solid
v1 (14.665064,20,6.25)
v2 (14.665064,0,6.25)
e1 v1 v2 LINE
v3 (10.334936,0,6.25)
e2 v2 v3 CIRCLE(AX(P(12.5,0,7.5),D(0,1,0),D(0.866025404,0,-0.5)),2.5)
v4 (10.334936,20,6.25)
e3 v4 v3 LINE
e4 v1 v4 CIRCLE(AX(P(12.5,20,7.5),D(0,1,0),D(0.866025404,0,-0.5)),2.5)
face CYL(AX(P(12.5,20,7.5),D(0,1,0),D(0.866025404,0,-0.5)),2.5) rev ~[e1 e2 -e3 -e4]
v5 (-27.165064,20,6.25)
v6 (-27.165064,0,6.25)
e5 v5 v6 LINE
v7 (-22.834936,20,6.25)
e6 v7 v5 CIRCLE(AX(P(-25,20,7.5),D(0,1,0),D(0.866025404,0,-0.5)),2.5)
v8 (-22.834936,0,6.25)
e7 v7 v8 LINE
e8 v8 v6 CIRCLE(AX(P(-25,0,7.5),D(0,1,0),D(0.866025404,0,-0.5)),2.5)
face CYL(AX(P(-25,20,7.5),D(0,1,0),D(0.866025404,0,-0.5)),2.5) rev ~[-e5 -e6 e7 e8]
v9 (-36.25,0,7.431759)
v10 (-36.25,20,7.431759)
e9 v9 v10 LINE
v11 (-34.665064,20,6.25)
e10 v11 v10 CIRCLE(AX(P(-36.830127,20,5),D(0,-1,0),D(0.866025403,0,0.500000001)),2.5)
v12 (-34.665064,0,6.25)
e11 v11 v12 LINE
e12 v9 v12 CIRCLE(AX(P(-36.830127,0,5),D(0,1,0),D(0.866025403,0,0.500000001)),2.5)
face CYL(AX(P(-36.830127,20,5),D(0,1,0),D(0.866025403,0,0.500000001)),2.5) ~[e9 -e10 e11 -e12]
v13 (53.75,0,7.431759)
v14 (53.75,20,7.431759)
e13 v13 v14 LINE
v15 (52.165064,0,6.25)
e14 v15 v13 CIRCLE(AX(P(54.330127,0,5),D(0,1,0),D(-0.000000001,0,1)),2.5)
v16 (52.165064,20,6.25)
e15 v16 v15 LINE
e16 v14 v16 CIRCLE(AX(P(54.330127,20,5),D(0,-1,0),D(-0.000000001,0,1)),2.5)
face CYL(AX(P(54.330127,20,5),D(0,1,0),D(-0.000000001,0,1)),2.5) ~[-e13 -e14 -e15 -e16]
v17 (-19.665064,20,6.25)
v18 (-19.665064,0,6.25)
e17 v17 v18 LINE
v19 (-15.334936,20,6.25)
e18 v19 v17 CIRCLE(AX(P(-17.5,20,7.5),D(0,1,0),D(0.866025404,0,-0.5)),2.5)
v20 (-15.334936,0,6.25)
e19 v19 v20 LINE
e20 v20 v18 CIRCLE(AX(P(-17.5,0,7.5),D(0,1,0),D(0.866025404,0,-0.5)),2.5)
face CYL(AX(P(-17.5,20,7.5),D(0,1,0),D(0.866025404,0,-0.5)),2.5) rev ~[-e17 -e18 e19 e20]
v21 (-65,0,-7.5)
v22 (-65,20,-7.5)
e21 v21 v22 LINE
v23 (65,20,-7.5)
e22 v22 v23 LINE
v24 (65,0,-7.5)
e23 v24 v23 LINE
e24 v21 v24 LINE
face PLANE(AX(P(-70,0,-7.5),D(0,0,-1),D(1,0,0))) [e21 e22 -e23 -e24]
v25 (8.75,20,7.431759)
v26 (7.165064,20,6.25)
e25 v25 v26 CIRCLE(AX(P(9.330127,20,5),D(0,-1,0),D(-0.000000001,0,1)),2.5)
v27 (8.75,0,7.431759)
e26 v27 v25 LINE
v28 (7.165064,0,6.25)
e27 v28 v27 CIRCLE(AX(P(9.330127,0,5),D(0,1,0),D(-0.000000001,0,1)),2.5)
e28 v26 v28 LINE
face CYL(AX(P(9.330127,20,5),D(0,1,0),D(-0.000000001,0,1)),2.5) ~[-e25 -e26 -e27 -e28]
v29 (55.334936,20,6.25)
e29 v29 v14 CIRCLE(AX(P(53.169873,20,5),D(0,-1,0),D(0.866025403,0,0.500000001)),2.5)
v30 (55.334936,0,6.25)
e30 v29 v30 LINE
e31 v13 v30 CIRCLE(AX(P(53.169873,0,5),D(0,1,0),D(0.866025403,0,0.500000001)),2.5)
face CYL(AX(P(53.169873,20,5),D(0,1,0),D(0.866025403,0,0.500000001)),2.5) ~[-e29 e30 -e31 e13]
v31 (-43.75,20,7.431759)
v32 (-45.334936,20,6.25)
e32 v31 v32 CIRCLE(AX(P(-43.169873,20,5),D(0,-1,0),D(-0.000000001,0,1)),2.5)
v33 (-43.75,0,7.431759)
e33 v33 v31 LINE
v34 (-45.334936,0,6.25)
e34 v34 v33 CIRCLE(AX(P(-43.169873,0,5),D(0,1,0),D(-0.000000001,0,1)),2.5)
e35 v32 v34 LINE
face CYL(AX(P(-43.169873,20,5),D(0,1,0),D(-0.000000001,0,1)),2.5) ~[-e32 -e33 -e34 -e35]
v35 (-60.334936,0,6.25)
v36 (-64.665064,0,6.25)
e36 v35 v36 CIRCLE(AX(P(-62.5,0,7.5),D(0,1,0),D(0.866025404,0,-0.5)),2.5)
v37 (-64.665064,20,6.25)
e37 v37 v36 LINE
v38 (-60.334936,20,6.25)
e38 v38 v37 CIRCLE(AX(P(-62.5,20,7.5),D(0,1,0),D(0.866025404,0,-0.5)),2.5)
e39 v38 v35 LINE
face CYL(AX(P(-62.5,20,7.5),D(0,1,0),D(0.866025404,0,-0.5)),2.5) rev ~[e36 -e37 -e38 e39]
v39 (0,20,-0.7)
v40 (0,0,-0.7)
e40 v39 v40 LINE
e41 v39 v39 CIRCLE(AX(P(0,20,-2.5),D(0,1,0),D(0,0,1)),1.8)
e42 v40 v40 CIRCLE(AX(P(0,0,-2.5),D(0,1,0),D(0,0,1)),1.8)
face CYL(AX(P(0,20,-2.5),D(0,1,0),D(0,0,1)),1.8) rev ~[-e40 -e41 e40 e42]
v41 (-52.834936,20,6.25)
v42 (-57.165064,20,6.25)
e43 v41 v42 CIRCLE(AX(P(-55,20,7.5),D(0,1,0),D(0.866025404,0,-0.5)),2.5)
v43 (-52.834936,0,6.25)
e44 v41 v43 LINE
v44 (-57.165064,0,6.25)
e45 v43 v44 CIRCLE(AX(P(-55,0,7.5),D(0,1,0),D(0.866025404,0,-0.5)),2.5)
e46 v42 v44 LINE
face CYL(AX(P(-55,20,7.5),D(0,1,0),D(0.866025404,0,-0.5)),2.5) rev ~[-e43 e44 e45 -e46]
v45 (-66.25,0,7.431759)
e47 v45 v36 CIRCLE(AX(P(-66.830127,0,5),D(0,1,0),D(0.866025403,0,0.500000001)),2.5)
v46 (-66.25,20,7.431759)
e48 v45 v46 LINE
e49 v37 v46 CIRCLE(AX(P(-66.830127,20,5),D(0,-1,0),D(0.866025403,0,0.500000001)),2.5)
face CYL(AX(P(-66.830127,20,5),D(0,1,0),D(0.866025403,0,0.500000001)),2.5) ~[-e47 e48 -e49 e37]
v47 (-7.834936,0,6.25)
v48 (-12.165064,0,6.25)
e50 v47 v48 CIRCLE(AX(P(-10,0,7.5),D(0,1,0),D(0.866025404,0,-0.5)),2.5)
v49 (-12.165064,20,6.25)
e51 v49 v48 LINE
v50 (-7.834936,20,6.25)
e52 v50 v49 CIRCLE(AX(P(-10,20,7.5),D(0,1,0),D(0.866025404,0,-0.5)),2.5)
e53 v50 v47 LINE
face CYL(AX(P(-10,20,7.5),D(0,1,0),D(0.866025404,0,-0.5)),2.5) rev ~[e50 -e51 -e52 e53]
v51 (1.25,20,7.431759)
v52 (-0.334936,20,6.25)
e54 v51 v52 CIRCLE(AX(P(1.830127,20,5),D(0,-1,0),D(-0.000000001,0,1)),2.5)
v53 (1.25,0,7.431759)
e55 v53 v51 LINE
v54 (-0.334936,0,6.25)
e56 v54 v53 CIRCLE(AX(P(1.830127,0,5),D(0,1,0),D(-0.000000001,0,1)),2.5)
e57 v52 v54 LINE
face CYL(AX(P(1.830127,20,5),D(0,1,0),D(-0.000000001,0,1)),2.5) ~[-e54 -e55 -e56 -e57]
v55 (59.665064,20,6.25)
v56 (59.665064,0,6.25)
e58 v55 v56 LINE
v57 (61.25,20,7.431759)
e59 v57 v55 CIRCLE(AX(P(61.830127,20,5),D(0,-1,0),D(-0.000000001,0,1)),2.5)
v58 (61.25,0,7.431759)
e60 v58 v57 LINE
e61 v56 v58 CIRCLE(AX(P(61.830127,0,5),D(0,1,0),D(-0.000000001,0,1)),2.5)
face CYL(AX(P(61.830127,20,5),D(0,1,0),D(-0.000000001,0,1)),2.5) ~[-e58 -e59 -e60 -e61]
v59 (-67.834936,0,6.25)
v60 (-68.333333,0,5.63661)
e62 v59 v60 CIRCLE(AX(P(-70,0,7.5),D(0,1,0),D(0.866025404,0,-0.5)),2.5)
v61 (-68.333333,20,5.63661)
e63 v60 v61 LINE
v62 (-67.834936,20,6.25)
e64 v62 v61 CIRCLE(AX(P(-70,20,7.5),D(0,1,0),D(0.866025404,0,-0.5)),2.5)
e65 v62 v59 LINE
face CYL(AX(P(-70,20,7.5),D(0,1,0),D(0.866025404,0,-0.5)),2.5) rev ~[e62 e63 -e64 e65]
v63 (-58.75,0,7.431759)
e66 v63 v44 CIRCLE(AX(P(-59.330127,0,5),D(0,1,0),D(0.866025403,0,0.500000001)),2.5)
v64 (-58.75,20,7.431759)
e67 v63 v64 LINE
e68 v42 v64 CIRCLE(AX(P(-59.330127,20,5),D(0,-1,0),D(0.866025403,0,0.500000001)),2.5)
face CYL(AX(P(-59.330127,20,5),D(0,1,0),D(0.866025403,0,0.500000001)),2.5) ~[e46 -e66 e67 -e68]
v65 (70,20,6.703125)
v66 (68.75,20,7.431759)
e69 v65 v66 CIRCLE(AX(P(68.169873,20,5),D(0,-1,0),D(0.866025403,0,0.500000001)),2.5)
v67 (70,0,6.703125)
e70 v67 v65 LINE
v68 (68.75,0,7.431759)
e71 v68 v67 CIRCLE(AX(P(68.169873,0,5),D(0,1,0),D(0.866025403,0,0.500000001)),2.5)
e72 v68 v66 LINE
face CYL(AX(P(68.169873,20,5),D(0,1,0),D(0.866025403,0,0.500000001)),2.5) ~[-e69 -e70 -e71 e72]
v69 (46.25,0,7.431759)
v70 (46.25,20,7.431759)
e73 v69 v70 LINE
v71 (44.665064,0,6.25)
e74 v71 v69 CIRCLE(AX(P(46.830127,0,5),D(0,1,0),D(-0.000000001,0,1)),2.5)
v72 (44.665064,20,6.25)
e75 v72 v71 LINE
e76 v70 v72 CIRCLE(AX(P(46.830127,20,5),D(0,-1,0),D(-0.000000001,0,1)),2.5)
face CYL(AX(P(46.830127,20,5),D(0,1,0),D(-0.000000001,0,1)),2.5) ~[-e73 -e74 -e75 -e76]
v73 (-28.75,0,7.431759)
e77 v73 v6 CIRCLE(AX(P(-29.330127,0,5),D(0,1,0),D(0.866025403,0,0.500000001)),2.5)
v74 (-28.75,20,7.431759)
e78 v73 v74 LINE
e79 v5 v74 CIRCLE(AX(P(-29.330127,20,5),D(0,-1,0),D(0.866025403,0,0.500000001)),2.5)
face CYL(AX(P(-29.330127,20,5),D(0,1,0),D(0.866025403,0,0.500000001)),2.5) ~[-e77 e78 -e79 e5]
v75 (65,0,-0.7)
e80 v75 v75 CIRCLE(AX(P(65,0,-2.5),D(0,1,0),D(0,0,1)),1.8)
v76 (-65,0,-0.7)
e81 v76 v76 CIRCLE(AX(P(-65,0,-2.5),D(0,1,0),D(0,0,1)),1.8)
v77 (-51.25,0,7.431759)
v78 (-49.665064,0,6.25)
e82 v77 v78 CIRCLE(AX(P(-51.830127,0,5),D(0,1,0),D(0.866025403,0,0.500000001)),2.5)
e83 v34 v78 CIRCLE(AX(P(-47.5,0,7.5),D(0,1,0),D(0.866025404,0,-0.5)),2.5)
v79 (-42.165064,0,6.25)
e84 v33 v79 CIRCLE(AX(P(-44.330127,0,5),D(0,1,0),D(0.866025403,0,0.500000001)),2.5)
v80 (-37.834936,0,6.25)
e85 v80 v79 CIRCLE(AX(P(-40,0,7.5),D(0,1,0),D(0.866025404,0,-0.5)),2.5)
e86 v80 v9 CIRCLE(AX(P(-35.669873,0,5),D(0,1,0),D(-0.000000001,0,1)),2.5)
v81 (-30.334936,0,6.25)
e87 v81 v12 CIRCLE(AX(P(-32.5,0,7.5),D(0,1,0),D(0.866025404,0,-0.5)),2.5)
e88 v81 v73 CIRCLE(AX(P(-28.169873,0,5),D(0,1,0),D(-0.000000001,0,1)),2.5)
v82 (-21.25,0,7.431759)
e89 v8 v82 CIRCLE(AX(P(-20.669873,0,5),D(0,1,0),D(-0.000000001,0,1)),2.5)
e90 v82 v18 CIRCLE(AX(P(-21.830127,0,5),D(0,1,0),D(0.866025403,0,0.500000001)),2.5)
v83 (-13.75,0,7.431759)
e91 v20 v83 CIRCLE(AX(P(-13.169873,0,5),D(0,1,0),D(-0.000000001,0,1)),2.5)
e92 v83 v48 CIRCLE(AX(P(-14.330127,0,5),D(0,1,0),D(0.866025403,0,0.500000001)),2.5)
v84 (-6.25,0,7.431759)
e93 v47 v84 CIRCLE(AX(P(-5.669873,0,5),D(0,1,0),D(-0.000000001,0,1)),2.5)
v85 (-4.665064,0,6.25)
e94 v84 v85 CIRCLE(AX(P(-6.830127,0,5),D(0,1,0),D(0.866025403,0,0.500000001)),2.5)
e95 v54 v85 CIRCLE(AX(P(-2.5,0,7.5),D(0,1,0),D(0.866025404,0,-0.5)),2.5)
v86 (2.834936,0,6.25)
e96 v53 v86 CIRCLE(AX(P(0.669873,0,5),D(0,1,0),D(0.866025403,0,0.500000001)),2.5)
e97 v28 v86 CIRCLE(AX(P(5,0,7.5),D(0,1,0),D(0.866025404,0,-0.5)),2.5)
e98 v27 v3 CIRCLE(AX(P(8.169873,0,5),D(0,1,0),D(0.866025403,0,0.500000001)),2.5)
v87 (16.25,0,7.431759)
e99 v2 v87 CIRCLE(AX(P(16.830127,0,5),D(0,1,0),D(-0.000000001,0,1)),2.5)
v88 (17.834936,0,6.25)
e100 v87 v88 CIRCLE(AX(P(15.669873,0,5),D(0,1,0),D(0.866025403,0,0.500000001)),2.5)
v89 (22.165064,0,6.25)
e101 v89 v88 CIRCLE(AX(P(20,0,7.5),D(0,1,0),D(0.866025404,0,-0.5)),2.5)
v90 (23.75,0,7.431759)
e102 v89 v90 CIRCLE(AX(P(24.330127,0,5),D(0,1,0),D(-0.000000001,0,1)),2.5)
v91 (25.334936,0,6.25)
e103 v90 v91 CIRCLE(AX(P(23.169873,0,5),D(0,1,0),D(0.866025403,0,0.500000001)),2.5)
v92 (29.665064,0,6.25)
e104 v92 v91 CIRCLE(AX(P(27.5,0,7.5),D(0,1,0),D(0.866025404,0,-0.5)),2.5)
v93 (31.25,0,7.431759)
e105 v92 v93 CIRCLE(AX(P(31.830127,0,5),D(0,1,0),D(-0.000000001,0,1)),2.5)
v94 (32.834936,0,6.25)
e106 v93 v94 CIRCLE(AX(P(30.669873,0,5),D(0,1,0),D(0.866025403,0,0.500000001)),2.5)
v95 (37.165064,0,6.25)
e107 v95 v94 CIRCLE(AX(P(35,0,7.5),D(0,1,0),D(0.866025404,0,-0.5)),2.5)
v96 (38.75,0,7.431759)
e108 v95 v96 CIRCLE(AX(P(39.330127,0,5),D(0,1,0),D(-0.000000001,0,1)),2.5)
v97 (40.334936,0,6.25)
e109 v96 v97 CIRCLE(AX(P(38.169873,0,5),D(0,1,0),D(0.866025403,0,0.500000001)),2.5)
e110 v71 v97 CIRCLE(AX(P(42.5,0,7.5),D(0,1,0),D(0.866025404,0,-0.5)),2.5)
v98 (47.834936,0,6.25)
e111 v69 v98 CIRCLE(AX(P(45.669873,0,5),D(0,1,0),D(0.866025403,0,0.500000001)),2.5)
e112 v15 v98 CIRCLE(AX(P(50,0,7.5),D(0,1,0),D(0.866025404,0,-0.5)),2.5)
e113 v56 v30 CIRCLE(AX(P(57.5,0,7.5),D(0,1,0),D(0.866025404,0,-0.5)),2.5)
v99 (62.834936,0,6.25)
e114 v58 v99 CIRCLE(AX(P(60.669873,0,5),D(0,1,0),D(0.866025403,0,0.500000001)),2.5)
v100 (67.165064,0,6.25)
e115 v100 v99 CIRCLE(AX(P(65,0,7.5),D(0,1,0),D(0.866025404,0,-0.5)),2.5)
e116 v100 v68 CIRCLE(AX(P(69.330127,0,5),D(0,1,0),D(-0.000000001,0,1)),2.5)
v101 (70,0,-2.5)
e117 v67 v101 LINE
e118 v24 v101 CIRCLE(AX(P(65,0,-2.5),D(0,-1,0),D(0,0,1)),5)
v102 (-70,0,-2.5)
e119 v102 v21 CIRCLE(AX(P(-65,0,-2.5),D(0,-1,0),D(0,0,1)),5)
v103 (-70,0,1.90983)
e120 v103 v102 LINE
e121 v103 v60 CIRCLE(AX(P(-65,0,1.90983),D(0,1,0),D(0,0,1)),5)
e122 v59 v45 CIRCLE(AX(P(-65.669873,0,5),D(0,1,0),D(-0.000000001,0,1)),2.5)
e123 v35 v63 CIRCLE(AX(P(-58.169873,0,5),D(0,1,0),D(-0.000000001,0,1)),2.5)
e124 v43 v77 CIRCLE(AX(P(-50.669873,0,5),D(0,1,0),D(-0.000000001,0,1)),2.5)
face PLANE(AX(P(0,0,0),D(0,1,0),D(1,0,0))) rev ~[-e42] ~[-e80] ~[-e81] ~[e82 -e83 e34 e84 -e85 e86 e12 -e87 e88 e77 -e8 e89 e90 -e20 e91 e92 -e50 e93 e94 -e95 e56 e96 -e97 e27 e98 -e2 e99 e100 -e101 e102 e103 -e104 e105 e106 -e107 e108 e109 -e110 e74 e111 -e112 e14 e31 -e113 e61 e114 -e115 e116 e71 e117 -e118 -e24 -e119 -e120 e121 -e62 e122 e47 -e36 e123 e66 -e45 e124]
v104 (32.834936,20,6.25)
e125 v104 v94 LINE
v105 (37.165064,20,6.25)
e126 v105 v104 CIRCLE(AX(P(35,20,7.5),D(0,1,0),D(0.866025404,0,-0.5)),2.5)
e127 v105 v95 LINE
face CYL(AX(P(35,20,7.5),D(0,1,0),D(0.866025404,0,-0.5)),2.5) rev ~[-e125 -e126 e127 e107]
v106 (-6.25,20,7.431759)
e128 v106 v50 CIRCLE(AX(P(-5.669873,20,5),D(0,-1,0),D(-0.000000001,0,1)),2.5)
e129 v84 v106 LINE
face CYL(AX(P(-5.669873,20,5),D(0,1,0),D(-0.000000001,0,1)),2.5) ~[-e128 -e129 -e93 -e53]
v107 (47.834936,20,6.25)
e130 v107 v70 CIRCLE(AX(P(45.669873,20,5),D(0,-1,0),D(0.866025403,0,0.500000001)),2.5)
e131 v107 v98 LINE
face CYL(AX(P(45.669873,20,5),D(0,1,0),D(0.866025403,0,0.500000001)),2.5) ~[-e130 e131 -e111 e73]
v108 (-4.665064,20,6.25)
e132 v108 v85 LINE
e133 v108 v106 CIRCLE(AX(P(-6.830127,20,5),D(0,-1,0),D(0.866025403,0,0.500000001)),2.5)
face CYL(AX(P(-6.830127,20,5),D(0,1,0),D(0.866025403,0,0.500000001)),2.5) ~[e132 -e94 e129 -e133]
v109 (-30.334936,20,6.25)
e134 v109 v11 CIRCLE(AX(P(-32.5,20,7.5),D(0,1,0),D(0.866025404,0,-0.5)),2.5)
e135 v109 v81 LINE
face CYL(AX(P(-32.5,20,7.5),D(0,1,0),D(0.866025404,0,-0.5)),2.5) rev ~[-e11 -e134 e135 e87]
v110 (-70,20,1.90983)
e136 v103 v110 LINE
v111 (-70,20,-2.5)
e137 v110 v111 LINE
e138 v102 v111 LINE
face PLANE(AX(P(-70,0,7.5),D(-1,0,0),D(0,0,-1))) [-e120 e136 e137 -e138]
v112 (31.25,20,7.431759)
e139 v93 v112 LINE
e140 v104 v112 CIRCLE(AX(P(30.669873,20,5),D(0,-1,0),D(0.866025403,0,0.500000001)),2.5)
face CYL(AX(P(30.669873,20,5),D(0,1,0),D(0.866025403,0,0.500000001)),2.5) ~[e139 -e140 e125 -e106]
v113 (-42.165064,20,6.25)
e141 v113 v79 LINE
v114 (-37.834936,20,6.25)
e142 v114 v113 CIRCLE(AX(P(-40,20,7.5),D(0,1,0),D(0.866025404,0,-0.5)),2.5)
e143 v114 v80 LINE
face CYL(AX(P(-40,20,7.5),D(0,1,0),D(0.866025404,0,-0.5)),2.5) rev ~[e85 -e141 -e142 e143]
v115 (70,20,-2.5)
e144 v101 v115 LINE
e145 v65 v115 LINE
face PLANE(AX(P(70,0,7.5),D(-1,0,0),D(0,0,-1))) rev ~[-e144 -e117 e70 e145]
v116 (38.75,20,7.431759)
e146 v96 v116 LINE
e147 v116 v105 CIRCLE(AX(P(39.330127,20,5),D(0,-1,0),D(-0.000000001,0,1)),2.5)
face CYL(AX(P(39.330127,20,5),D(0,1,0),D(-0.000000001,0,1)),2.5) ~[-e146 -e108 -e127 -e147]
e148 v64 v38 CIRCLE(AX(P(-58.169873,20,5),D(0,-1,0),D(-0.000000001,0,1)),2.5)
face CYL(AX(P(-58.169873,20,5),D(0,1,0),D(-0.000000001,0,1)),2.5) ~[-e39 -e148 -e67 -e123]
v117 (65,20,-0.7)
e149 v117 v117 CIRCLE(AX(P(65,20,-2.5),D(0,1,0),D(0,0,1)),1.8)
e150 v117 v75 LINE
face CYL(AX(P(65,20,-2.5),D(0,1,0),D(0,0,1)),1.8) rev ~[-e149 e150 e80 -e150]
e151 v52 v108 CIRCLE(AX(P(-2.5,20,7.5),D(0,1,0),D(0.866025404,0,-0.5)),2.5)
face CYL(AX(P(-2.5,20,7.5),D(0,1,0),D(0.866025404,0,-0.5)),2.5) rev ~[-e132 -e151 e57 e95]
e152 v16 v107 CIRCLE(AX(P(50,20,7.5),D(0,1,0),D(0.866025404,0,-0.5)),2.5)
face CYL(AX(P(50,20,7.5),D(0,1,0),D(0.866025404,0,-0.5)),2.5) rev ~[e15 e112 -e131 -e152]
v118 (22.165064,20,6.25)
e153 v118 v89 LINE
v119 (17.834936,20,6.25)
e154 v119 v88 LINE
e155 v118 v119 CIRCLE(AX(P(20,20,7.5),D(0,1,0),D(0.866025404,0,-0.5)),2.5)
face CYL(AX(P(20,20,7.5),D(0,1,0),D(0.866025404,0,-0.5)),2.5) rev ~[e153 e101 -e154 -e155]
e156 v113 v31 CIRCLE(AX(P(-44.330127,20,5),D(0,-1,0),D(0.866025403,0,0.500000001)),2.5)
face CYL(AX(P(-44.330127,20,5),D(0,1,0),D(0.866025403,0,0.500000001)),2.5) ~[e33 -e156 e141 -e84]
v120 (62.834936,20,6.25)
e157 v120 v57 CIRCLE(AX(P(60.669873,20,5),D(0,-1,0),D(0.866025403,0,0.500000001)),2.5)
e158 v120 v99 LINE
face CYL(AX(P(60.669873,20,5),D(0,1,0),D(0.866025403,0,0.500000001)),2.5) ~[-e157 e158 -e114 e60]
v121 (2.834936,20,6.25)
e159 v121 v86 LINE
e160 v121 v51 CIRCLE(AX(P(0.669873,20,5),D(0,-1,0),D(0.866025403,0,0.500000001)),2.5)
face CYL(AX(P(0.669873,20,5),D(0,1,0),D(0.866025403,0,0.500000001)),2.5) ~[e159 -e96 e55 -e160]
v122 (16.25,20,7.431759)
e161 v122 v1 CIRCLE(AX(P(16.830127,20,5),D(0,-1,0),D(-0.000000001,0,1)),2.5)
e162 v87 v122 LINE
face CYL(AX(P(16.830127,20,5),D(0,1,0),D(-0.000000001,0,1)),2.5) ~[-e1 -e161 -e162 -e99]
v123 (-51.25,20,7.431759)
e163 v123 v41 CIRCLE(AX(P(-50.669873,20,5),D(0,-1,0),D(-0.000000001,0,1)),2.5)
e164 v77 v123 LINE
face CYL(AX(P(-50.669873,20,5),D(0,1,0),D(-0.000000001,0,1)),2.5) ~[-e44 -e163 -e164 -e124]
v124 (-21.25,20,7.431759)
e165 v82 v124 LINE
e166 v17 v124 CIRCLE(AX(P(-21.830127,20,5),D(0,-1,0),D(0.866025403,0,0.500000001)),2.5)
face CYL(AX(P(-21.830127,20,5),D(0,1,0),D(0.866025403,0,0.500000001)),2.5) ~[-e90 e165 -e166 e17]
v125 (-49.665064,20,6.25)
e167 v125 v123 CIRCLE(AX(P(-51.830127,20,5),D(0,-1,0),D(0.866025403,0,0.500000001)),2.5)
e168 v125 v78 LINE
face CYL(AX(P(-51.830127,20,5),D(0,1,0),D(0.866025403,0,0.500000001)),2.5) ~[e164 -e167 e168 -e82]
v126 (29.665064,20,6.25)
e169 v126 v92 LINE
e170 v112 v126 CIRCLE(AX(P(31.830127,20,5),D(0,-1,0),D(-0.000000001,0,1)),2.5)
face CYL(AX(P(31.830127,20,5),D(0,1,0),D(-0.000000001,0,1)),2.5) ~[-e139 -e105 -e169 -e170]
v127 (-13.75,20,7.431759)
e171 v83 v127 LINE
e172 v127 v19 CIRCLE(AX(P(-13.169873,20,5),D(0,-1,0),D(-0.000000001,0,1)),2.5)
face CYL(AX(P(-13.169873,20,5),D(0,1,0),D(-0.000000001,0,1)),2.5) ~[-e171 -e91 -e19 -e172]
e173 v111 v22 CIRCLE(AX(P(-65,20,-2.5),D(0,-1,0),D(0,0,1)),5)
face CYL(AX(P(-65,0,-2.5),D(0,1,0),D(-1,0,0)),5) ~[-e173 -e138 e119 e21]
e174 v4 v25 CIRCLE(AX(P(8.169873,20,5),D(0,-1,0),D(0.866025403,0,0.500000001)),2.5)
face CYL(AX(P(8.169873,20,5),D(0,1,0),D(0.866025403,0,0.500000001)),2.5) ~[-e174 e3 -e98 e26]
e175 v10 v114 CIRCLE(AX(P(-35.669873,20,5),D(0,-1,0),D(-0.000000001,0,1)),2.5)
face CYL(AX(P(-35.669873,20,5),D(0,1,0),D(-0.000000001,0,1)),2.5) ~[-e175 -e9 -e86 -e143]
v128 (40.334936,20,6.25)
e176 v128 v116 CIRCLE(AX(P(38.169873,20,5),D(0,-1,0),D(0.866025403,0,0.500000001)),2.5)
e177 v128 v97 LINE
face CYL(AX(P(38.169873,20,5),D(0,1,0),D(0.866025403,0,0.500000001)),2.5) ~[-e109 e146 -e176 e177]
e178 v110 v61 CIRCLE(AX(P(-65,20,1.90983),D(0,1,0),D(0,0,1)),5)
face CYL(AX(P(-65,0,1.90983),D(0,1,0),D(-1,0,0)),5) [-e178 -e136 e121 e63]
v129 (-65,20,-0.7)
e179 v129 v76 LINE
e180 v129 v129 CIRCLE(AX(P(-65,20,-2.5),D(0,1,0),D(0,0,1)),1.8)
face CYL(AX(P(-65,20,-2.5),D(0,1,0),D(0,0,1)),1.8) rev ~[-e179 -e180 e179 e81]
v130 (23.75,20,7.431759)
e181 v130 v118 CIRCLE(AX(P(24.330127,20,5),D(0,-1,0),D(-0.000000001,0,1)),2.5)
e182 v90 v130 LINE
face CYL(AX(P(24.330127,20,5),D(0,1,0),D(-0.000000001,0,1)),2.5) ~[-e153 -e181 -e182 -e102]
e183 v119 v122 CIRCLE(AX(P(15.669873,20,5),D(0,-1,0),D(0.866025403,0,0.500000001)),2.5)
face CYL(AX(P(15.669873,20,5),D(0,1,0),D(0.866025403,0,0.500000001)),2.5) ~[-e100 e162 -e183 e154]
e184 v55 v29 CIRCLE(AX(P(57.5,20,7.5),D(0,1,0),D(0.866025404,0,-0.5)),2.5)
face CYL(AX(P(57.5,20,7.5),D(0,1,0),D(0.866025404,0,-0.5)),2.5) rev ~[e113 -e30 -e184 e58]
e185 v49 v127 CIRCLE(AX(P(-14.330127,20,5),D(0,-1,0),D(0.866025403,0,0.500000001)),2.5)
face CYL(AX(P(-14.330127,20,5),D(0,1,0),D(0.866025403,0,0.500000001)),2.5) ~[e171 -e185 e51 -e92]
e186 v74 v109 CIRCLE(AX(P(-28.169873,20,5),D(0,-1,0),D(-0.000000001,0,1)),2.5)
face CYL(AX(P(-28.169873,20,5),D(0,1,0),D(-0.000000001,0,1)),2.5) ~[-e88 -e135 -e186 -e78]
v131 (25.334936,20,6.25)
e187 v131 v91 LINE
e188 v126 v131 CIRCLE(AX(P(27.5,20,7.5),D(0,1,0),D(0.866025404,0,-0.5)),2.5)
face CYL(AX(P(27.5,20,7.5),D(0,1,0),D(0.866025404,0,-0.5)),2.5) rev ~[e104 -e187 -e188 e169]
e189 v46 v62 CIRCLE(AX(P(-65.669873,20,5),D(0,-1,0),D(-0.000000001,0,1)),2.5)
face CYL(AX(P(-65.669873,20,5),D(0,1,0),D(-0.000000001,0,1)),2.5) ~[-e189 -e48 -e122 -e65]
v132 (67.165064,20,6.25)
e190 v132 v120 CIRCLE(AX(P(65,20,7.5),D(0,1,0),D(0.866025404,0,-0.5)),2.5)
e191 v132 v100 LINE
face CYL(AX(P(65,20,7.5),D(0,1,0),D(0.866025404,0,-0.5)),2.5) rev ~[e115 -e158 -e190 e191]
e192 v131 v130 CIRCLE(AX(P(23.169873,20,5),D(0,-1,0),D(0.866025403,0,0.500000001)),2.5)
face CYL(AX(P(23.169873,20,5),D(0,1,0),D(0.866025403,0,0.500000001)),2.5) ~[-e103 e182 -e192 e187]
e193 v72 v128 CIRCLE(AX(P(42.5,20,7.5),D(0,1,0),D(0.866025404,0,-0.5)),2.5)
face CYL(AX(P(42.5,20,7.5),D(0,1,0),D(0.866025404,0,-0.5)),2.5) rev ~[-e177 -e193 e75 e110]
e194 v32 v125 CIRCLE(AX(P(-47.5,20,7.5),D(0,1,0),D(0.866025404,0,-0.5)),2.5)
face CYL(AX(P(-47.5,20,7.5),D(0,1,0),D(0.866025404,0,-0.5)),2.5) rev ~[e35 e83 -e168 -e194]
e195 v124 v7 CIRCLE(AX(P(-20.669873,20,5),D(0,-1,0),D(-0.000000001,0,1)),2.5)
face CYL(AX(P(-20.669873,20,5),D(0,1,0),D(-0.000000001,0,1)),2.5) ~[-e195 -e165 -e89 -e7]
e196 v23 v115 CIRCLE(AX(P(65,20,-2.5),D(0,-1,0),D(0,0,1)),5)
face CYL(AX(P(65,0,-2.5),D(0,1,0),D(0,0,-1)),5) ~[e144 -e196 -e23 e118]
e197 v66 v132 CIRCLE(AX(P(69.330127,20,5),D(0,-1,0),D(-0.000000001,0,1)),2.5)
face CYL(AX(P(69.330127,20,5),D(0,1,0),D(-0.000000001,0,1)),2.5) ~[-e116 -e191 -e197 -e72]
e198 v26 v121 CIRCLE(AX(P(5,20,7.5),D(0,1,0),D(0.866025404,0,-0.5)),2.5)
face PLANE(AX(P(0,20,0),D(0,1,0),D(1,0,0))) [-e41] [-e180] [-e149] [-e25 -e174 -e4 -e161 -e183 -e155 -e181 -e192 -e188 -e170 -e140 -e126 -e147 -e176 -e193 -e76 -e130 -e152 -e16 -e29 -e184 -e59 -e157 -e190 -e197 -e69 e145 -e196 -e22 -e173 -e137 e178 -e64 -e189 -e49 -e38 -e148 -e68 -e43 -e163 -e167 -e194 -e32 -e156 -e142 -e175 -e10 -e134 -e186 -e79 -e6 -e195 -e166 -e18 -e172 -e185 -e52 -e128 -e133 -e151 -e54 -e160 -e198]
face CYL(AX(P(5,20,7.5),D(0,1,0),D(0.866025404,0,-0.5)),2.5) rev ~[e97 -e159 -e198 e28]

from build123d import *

# Parameters (mm, degrees)
SKETCH1_W           = 140
SKETCH1_H           = 15
BOSS_EXTRUDE1_DEPTH = 20
SKETCH2_R           = 1.8
CUT_EXTRUDE1_DEPTH  = 74.186405842
FILLET1_R           = 5
CUT_EXTRUDE2_DEPTH  = 74.186405842
LPATTERN1_COUNT     = 42
LPATTERN1_PITCH     = 7.5
FILLET2_R           = 5


with BuildPart() as part:
    # Sketch1 → Boss-Extrude1 (new body)
    with BuildSketch(Plane(origin=(0, 0, 0), x_dir=(1, 0, 0), z_dir=(0, 1, 0))):
        Rectangle(SKETCH1_W, SKETCH1_H)
    extrude(amount=BOSS_EXTRUDE1_DEPTH)

    # Sketch2 → Cut-Extrude1 (cut, through all)
    with BuildSketch(Plane(origin=(0, 20, 0), x_dir=(1, 0, 0), z_dir=(0, 1, 0))):
        with Locations(Location((-65, 2.5, 0), (0, 0, 270))):
            Circle(SKETCH2_R)
        with Locations(Location((0, 2.5, 0), (0, 0, 270))):
            Circle(SKETCH2_R)
        with Locations(Location((65, 2.5, 0), (0, 0, 270))):
            Circle(SKETCH2_R)
    extrude(amount=-CUT_EXTRUDE1_DEPTH, mode=Mode.SUBTRACT)

    # Fillet1
    fillet1_edges = [part.edges().sort_by_distance(p)[0] for p in [
        (-70, 10, -7.5),
        (70, 10, -7.5),
    ]]
    fillet(fillet1_edges, radius=FILLET1_R)

    # Sketch3 → Cut-Extrude2 (cut, through all)
    with BuildSketch(Plane(origin=(0, 20, 0), x_dir=(1, 0, 0), z_dir=(0, 1, 0))):
        with BuildLine():
            ThreePointArc((-67.834936491, -6.25), (-70, -5), (-72.165063509, -6.25))
            ThreePointArc((-72.165063509, -6.25), (-73.080127019, -7.165063509), (-74.330127019, -7.5))
            ThreePointArc((-74.330127019, -7.5), (-70, -11.830127019), (-65.669872981, -7.5))
            ThreePointArc((-65.669872981, -7.5), (-66.919872981, -7.165063509), (-67.834936491, -6.25))
        make_face()
    cut_extrude2 = extrude(amount=-CUT_EXTRUDE2_DEPTH, mode=Mode.SUBTRACT)

    # LPattern1: Cut-Extrude2 ×42
    with Locations(*[(i * LPATTERN1_PITCH, 0, 0) for i in range(1, LPATTERN1_COUNT)]):
        add(cut_extrude2, mode=Mode.SUBTRACT)

    # Fillet2
    fillet2_edges = [part.edges().sort_by_distance(p)[0] for p in [
        (-70, 10, 5),
    ]]
    fillet(fillet2_edges, radius=FILLET2_R)


solid = part.part
